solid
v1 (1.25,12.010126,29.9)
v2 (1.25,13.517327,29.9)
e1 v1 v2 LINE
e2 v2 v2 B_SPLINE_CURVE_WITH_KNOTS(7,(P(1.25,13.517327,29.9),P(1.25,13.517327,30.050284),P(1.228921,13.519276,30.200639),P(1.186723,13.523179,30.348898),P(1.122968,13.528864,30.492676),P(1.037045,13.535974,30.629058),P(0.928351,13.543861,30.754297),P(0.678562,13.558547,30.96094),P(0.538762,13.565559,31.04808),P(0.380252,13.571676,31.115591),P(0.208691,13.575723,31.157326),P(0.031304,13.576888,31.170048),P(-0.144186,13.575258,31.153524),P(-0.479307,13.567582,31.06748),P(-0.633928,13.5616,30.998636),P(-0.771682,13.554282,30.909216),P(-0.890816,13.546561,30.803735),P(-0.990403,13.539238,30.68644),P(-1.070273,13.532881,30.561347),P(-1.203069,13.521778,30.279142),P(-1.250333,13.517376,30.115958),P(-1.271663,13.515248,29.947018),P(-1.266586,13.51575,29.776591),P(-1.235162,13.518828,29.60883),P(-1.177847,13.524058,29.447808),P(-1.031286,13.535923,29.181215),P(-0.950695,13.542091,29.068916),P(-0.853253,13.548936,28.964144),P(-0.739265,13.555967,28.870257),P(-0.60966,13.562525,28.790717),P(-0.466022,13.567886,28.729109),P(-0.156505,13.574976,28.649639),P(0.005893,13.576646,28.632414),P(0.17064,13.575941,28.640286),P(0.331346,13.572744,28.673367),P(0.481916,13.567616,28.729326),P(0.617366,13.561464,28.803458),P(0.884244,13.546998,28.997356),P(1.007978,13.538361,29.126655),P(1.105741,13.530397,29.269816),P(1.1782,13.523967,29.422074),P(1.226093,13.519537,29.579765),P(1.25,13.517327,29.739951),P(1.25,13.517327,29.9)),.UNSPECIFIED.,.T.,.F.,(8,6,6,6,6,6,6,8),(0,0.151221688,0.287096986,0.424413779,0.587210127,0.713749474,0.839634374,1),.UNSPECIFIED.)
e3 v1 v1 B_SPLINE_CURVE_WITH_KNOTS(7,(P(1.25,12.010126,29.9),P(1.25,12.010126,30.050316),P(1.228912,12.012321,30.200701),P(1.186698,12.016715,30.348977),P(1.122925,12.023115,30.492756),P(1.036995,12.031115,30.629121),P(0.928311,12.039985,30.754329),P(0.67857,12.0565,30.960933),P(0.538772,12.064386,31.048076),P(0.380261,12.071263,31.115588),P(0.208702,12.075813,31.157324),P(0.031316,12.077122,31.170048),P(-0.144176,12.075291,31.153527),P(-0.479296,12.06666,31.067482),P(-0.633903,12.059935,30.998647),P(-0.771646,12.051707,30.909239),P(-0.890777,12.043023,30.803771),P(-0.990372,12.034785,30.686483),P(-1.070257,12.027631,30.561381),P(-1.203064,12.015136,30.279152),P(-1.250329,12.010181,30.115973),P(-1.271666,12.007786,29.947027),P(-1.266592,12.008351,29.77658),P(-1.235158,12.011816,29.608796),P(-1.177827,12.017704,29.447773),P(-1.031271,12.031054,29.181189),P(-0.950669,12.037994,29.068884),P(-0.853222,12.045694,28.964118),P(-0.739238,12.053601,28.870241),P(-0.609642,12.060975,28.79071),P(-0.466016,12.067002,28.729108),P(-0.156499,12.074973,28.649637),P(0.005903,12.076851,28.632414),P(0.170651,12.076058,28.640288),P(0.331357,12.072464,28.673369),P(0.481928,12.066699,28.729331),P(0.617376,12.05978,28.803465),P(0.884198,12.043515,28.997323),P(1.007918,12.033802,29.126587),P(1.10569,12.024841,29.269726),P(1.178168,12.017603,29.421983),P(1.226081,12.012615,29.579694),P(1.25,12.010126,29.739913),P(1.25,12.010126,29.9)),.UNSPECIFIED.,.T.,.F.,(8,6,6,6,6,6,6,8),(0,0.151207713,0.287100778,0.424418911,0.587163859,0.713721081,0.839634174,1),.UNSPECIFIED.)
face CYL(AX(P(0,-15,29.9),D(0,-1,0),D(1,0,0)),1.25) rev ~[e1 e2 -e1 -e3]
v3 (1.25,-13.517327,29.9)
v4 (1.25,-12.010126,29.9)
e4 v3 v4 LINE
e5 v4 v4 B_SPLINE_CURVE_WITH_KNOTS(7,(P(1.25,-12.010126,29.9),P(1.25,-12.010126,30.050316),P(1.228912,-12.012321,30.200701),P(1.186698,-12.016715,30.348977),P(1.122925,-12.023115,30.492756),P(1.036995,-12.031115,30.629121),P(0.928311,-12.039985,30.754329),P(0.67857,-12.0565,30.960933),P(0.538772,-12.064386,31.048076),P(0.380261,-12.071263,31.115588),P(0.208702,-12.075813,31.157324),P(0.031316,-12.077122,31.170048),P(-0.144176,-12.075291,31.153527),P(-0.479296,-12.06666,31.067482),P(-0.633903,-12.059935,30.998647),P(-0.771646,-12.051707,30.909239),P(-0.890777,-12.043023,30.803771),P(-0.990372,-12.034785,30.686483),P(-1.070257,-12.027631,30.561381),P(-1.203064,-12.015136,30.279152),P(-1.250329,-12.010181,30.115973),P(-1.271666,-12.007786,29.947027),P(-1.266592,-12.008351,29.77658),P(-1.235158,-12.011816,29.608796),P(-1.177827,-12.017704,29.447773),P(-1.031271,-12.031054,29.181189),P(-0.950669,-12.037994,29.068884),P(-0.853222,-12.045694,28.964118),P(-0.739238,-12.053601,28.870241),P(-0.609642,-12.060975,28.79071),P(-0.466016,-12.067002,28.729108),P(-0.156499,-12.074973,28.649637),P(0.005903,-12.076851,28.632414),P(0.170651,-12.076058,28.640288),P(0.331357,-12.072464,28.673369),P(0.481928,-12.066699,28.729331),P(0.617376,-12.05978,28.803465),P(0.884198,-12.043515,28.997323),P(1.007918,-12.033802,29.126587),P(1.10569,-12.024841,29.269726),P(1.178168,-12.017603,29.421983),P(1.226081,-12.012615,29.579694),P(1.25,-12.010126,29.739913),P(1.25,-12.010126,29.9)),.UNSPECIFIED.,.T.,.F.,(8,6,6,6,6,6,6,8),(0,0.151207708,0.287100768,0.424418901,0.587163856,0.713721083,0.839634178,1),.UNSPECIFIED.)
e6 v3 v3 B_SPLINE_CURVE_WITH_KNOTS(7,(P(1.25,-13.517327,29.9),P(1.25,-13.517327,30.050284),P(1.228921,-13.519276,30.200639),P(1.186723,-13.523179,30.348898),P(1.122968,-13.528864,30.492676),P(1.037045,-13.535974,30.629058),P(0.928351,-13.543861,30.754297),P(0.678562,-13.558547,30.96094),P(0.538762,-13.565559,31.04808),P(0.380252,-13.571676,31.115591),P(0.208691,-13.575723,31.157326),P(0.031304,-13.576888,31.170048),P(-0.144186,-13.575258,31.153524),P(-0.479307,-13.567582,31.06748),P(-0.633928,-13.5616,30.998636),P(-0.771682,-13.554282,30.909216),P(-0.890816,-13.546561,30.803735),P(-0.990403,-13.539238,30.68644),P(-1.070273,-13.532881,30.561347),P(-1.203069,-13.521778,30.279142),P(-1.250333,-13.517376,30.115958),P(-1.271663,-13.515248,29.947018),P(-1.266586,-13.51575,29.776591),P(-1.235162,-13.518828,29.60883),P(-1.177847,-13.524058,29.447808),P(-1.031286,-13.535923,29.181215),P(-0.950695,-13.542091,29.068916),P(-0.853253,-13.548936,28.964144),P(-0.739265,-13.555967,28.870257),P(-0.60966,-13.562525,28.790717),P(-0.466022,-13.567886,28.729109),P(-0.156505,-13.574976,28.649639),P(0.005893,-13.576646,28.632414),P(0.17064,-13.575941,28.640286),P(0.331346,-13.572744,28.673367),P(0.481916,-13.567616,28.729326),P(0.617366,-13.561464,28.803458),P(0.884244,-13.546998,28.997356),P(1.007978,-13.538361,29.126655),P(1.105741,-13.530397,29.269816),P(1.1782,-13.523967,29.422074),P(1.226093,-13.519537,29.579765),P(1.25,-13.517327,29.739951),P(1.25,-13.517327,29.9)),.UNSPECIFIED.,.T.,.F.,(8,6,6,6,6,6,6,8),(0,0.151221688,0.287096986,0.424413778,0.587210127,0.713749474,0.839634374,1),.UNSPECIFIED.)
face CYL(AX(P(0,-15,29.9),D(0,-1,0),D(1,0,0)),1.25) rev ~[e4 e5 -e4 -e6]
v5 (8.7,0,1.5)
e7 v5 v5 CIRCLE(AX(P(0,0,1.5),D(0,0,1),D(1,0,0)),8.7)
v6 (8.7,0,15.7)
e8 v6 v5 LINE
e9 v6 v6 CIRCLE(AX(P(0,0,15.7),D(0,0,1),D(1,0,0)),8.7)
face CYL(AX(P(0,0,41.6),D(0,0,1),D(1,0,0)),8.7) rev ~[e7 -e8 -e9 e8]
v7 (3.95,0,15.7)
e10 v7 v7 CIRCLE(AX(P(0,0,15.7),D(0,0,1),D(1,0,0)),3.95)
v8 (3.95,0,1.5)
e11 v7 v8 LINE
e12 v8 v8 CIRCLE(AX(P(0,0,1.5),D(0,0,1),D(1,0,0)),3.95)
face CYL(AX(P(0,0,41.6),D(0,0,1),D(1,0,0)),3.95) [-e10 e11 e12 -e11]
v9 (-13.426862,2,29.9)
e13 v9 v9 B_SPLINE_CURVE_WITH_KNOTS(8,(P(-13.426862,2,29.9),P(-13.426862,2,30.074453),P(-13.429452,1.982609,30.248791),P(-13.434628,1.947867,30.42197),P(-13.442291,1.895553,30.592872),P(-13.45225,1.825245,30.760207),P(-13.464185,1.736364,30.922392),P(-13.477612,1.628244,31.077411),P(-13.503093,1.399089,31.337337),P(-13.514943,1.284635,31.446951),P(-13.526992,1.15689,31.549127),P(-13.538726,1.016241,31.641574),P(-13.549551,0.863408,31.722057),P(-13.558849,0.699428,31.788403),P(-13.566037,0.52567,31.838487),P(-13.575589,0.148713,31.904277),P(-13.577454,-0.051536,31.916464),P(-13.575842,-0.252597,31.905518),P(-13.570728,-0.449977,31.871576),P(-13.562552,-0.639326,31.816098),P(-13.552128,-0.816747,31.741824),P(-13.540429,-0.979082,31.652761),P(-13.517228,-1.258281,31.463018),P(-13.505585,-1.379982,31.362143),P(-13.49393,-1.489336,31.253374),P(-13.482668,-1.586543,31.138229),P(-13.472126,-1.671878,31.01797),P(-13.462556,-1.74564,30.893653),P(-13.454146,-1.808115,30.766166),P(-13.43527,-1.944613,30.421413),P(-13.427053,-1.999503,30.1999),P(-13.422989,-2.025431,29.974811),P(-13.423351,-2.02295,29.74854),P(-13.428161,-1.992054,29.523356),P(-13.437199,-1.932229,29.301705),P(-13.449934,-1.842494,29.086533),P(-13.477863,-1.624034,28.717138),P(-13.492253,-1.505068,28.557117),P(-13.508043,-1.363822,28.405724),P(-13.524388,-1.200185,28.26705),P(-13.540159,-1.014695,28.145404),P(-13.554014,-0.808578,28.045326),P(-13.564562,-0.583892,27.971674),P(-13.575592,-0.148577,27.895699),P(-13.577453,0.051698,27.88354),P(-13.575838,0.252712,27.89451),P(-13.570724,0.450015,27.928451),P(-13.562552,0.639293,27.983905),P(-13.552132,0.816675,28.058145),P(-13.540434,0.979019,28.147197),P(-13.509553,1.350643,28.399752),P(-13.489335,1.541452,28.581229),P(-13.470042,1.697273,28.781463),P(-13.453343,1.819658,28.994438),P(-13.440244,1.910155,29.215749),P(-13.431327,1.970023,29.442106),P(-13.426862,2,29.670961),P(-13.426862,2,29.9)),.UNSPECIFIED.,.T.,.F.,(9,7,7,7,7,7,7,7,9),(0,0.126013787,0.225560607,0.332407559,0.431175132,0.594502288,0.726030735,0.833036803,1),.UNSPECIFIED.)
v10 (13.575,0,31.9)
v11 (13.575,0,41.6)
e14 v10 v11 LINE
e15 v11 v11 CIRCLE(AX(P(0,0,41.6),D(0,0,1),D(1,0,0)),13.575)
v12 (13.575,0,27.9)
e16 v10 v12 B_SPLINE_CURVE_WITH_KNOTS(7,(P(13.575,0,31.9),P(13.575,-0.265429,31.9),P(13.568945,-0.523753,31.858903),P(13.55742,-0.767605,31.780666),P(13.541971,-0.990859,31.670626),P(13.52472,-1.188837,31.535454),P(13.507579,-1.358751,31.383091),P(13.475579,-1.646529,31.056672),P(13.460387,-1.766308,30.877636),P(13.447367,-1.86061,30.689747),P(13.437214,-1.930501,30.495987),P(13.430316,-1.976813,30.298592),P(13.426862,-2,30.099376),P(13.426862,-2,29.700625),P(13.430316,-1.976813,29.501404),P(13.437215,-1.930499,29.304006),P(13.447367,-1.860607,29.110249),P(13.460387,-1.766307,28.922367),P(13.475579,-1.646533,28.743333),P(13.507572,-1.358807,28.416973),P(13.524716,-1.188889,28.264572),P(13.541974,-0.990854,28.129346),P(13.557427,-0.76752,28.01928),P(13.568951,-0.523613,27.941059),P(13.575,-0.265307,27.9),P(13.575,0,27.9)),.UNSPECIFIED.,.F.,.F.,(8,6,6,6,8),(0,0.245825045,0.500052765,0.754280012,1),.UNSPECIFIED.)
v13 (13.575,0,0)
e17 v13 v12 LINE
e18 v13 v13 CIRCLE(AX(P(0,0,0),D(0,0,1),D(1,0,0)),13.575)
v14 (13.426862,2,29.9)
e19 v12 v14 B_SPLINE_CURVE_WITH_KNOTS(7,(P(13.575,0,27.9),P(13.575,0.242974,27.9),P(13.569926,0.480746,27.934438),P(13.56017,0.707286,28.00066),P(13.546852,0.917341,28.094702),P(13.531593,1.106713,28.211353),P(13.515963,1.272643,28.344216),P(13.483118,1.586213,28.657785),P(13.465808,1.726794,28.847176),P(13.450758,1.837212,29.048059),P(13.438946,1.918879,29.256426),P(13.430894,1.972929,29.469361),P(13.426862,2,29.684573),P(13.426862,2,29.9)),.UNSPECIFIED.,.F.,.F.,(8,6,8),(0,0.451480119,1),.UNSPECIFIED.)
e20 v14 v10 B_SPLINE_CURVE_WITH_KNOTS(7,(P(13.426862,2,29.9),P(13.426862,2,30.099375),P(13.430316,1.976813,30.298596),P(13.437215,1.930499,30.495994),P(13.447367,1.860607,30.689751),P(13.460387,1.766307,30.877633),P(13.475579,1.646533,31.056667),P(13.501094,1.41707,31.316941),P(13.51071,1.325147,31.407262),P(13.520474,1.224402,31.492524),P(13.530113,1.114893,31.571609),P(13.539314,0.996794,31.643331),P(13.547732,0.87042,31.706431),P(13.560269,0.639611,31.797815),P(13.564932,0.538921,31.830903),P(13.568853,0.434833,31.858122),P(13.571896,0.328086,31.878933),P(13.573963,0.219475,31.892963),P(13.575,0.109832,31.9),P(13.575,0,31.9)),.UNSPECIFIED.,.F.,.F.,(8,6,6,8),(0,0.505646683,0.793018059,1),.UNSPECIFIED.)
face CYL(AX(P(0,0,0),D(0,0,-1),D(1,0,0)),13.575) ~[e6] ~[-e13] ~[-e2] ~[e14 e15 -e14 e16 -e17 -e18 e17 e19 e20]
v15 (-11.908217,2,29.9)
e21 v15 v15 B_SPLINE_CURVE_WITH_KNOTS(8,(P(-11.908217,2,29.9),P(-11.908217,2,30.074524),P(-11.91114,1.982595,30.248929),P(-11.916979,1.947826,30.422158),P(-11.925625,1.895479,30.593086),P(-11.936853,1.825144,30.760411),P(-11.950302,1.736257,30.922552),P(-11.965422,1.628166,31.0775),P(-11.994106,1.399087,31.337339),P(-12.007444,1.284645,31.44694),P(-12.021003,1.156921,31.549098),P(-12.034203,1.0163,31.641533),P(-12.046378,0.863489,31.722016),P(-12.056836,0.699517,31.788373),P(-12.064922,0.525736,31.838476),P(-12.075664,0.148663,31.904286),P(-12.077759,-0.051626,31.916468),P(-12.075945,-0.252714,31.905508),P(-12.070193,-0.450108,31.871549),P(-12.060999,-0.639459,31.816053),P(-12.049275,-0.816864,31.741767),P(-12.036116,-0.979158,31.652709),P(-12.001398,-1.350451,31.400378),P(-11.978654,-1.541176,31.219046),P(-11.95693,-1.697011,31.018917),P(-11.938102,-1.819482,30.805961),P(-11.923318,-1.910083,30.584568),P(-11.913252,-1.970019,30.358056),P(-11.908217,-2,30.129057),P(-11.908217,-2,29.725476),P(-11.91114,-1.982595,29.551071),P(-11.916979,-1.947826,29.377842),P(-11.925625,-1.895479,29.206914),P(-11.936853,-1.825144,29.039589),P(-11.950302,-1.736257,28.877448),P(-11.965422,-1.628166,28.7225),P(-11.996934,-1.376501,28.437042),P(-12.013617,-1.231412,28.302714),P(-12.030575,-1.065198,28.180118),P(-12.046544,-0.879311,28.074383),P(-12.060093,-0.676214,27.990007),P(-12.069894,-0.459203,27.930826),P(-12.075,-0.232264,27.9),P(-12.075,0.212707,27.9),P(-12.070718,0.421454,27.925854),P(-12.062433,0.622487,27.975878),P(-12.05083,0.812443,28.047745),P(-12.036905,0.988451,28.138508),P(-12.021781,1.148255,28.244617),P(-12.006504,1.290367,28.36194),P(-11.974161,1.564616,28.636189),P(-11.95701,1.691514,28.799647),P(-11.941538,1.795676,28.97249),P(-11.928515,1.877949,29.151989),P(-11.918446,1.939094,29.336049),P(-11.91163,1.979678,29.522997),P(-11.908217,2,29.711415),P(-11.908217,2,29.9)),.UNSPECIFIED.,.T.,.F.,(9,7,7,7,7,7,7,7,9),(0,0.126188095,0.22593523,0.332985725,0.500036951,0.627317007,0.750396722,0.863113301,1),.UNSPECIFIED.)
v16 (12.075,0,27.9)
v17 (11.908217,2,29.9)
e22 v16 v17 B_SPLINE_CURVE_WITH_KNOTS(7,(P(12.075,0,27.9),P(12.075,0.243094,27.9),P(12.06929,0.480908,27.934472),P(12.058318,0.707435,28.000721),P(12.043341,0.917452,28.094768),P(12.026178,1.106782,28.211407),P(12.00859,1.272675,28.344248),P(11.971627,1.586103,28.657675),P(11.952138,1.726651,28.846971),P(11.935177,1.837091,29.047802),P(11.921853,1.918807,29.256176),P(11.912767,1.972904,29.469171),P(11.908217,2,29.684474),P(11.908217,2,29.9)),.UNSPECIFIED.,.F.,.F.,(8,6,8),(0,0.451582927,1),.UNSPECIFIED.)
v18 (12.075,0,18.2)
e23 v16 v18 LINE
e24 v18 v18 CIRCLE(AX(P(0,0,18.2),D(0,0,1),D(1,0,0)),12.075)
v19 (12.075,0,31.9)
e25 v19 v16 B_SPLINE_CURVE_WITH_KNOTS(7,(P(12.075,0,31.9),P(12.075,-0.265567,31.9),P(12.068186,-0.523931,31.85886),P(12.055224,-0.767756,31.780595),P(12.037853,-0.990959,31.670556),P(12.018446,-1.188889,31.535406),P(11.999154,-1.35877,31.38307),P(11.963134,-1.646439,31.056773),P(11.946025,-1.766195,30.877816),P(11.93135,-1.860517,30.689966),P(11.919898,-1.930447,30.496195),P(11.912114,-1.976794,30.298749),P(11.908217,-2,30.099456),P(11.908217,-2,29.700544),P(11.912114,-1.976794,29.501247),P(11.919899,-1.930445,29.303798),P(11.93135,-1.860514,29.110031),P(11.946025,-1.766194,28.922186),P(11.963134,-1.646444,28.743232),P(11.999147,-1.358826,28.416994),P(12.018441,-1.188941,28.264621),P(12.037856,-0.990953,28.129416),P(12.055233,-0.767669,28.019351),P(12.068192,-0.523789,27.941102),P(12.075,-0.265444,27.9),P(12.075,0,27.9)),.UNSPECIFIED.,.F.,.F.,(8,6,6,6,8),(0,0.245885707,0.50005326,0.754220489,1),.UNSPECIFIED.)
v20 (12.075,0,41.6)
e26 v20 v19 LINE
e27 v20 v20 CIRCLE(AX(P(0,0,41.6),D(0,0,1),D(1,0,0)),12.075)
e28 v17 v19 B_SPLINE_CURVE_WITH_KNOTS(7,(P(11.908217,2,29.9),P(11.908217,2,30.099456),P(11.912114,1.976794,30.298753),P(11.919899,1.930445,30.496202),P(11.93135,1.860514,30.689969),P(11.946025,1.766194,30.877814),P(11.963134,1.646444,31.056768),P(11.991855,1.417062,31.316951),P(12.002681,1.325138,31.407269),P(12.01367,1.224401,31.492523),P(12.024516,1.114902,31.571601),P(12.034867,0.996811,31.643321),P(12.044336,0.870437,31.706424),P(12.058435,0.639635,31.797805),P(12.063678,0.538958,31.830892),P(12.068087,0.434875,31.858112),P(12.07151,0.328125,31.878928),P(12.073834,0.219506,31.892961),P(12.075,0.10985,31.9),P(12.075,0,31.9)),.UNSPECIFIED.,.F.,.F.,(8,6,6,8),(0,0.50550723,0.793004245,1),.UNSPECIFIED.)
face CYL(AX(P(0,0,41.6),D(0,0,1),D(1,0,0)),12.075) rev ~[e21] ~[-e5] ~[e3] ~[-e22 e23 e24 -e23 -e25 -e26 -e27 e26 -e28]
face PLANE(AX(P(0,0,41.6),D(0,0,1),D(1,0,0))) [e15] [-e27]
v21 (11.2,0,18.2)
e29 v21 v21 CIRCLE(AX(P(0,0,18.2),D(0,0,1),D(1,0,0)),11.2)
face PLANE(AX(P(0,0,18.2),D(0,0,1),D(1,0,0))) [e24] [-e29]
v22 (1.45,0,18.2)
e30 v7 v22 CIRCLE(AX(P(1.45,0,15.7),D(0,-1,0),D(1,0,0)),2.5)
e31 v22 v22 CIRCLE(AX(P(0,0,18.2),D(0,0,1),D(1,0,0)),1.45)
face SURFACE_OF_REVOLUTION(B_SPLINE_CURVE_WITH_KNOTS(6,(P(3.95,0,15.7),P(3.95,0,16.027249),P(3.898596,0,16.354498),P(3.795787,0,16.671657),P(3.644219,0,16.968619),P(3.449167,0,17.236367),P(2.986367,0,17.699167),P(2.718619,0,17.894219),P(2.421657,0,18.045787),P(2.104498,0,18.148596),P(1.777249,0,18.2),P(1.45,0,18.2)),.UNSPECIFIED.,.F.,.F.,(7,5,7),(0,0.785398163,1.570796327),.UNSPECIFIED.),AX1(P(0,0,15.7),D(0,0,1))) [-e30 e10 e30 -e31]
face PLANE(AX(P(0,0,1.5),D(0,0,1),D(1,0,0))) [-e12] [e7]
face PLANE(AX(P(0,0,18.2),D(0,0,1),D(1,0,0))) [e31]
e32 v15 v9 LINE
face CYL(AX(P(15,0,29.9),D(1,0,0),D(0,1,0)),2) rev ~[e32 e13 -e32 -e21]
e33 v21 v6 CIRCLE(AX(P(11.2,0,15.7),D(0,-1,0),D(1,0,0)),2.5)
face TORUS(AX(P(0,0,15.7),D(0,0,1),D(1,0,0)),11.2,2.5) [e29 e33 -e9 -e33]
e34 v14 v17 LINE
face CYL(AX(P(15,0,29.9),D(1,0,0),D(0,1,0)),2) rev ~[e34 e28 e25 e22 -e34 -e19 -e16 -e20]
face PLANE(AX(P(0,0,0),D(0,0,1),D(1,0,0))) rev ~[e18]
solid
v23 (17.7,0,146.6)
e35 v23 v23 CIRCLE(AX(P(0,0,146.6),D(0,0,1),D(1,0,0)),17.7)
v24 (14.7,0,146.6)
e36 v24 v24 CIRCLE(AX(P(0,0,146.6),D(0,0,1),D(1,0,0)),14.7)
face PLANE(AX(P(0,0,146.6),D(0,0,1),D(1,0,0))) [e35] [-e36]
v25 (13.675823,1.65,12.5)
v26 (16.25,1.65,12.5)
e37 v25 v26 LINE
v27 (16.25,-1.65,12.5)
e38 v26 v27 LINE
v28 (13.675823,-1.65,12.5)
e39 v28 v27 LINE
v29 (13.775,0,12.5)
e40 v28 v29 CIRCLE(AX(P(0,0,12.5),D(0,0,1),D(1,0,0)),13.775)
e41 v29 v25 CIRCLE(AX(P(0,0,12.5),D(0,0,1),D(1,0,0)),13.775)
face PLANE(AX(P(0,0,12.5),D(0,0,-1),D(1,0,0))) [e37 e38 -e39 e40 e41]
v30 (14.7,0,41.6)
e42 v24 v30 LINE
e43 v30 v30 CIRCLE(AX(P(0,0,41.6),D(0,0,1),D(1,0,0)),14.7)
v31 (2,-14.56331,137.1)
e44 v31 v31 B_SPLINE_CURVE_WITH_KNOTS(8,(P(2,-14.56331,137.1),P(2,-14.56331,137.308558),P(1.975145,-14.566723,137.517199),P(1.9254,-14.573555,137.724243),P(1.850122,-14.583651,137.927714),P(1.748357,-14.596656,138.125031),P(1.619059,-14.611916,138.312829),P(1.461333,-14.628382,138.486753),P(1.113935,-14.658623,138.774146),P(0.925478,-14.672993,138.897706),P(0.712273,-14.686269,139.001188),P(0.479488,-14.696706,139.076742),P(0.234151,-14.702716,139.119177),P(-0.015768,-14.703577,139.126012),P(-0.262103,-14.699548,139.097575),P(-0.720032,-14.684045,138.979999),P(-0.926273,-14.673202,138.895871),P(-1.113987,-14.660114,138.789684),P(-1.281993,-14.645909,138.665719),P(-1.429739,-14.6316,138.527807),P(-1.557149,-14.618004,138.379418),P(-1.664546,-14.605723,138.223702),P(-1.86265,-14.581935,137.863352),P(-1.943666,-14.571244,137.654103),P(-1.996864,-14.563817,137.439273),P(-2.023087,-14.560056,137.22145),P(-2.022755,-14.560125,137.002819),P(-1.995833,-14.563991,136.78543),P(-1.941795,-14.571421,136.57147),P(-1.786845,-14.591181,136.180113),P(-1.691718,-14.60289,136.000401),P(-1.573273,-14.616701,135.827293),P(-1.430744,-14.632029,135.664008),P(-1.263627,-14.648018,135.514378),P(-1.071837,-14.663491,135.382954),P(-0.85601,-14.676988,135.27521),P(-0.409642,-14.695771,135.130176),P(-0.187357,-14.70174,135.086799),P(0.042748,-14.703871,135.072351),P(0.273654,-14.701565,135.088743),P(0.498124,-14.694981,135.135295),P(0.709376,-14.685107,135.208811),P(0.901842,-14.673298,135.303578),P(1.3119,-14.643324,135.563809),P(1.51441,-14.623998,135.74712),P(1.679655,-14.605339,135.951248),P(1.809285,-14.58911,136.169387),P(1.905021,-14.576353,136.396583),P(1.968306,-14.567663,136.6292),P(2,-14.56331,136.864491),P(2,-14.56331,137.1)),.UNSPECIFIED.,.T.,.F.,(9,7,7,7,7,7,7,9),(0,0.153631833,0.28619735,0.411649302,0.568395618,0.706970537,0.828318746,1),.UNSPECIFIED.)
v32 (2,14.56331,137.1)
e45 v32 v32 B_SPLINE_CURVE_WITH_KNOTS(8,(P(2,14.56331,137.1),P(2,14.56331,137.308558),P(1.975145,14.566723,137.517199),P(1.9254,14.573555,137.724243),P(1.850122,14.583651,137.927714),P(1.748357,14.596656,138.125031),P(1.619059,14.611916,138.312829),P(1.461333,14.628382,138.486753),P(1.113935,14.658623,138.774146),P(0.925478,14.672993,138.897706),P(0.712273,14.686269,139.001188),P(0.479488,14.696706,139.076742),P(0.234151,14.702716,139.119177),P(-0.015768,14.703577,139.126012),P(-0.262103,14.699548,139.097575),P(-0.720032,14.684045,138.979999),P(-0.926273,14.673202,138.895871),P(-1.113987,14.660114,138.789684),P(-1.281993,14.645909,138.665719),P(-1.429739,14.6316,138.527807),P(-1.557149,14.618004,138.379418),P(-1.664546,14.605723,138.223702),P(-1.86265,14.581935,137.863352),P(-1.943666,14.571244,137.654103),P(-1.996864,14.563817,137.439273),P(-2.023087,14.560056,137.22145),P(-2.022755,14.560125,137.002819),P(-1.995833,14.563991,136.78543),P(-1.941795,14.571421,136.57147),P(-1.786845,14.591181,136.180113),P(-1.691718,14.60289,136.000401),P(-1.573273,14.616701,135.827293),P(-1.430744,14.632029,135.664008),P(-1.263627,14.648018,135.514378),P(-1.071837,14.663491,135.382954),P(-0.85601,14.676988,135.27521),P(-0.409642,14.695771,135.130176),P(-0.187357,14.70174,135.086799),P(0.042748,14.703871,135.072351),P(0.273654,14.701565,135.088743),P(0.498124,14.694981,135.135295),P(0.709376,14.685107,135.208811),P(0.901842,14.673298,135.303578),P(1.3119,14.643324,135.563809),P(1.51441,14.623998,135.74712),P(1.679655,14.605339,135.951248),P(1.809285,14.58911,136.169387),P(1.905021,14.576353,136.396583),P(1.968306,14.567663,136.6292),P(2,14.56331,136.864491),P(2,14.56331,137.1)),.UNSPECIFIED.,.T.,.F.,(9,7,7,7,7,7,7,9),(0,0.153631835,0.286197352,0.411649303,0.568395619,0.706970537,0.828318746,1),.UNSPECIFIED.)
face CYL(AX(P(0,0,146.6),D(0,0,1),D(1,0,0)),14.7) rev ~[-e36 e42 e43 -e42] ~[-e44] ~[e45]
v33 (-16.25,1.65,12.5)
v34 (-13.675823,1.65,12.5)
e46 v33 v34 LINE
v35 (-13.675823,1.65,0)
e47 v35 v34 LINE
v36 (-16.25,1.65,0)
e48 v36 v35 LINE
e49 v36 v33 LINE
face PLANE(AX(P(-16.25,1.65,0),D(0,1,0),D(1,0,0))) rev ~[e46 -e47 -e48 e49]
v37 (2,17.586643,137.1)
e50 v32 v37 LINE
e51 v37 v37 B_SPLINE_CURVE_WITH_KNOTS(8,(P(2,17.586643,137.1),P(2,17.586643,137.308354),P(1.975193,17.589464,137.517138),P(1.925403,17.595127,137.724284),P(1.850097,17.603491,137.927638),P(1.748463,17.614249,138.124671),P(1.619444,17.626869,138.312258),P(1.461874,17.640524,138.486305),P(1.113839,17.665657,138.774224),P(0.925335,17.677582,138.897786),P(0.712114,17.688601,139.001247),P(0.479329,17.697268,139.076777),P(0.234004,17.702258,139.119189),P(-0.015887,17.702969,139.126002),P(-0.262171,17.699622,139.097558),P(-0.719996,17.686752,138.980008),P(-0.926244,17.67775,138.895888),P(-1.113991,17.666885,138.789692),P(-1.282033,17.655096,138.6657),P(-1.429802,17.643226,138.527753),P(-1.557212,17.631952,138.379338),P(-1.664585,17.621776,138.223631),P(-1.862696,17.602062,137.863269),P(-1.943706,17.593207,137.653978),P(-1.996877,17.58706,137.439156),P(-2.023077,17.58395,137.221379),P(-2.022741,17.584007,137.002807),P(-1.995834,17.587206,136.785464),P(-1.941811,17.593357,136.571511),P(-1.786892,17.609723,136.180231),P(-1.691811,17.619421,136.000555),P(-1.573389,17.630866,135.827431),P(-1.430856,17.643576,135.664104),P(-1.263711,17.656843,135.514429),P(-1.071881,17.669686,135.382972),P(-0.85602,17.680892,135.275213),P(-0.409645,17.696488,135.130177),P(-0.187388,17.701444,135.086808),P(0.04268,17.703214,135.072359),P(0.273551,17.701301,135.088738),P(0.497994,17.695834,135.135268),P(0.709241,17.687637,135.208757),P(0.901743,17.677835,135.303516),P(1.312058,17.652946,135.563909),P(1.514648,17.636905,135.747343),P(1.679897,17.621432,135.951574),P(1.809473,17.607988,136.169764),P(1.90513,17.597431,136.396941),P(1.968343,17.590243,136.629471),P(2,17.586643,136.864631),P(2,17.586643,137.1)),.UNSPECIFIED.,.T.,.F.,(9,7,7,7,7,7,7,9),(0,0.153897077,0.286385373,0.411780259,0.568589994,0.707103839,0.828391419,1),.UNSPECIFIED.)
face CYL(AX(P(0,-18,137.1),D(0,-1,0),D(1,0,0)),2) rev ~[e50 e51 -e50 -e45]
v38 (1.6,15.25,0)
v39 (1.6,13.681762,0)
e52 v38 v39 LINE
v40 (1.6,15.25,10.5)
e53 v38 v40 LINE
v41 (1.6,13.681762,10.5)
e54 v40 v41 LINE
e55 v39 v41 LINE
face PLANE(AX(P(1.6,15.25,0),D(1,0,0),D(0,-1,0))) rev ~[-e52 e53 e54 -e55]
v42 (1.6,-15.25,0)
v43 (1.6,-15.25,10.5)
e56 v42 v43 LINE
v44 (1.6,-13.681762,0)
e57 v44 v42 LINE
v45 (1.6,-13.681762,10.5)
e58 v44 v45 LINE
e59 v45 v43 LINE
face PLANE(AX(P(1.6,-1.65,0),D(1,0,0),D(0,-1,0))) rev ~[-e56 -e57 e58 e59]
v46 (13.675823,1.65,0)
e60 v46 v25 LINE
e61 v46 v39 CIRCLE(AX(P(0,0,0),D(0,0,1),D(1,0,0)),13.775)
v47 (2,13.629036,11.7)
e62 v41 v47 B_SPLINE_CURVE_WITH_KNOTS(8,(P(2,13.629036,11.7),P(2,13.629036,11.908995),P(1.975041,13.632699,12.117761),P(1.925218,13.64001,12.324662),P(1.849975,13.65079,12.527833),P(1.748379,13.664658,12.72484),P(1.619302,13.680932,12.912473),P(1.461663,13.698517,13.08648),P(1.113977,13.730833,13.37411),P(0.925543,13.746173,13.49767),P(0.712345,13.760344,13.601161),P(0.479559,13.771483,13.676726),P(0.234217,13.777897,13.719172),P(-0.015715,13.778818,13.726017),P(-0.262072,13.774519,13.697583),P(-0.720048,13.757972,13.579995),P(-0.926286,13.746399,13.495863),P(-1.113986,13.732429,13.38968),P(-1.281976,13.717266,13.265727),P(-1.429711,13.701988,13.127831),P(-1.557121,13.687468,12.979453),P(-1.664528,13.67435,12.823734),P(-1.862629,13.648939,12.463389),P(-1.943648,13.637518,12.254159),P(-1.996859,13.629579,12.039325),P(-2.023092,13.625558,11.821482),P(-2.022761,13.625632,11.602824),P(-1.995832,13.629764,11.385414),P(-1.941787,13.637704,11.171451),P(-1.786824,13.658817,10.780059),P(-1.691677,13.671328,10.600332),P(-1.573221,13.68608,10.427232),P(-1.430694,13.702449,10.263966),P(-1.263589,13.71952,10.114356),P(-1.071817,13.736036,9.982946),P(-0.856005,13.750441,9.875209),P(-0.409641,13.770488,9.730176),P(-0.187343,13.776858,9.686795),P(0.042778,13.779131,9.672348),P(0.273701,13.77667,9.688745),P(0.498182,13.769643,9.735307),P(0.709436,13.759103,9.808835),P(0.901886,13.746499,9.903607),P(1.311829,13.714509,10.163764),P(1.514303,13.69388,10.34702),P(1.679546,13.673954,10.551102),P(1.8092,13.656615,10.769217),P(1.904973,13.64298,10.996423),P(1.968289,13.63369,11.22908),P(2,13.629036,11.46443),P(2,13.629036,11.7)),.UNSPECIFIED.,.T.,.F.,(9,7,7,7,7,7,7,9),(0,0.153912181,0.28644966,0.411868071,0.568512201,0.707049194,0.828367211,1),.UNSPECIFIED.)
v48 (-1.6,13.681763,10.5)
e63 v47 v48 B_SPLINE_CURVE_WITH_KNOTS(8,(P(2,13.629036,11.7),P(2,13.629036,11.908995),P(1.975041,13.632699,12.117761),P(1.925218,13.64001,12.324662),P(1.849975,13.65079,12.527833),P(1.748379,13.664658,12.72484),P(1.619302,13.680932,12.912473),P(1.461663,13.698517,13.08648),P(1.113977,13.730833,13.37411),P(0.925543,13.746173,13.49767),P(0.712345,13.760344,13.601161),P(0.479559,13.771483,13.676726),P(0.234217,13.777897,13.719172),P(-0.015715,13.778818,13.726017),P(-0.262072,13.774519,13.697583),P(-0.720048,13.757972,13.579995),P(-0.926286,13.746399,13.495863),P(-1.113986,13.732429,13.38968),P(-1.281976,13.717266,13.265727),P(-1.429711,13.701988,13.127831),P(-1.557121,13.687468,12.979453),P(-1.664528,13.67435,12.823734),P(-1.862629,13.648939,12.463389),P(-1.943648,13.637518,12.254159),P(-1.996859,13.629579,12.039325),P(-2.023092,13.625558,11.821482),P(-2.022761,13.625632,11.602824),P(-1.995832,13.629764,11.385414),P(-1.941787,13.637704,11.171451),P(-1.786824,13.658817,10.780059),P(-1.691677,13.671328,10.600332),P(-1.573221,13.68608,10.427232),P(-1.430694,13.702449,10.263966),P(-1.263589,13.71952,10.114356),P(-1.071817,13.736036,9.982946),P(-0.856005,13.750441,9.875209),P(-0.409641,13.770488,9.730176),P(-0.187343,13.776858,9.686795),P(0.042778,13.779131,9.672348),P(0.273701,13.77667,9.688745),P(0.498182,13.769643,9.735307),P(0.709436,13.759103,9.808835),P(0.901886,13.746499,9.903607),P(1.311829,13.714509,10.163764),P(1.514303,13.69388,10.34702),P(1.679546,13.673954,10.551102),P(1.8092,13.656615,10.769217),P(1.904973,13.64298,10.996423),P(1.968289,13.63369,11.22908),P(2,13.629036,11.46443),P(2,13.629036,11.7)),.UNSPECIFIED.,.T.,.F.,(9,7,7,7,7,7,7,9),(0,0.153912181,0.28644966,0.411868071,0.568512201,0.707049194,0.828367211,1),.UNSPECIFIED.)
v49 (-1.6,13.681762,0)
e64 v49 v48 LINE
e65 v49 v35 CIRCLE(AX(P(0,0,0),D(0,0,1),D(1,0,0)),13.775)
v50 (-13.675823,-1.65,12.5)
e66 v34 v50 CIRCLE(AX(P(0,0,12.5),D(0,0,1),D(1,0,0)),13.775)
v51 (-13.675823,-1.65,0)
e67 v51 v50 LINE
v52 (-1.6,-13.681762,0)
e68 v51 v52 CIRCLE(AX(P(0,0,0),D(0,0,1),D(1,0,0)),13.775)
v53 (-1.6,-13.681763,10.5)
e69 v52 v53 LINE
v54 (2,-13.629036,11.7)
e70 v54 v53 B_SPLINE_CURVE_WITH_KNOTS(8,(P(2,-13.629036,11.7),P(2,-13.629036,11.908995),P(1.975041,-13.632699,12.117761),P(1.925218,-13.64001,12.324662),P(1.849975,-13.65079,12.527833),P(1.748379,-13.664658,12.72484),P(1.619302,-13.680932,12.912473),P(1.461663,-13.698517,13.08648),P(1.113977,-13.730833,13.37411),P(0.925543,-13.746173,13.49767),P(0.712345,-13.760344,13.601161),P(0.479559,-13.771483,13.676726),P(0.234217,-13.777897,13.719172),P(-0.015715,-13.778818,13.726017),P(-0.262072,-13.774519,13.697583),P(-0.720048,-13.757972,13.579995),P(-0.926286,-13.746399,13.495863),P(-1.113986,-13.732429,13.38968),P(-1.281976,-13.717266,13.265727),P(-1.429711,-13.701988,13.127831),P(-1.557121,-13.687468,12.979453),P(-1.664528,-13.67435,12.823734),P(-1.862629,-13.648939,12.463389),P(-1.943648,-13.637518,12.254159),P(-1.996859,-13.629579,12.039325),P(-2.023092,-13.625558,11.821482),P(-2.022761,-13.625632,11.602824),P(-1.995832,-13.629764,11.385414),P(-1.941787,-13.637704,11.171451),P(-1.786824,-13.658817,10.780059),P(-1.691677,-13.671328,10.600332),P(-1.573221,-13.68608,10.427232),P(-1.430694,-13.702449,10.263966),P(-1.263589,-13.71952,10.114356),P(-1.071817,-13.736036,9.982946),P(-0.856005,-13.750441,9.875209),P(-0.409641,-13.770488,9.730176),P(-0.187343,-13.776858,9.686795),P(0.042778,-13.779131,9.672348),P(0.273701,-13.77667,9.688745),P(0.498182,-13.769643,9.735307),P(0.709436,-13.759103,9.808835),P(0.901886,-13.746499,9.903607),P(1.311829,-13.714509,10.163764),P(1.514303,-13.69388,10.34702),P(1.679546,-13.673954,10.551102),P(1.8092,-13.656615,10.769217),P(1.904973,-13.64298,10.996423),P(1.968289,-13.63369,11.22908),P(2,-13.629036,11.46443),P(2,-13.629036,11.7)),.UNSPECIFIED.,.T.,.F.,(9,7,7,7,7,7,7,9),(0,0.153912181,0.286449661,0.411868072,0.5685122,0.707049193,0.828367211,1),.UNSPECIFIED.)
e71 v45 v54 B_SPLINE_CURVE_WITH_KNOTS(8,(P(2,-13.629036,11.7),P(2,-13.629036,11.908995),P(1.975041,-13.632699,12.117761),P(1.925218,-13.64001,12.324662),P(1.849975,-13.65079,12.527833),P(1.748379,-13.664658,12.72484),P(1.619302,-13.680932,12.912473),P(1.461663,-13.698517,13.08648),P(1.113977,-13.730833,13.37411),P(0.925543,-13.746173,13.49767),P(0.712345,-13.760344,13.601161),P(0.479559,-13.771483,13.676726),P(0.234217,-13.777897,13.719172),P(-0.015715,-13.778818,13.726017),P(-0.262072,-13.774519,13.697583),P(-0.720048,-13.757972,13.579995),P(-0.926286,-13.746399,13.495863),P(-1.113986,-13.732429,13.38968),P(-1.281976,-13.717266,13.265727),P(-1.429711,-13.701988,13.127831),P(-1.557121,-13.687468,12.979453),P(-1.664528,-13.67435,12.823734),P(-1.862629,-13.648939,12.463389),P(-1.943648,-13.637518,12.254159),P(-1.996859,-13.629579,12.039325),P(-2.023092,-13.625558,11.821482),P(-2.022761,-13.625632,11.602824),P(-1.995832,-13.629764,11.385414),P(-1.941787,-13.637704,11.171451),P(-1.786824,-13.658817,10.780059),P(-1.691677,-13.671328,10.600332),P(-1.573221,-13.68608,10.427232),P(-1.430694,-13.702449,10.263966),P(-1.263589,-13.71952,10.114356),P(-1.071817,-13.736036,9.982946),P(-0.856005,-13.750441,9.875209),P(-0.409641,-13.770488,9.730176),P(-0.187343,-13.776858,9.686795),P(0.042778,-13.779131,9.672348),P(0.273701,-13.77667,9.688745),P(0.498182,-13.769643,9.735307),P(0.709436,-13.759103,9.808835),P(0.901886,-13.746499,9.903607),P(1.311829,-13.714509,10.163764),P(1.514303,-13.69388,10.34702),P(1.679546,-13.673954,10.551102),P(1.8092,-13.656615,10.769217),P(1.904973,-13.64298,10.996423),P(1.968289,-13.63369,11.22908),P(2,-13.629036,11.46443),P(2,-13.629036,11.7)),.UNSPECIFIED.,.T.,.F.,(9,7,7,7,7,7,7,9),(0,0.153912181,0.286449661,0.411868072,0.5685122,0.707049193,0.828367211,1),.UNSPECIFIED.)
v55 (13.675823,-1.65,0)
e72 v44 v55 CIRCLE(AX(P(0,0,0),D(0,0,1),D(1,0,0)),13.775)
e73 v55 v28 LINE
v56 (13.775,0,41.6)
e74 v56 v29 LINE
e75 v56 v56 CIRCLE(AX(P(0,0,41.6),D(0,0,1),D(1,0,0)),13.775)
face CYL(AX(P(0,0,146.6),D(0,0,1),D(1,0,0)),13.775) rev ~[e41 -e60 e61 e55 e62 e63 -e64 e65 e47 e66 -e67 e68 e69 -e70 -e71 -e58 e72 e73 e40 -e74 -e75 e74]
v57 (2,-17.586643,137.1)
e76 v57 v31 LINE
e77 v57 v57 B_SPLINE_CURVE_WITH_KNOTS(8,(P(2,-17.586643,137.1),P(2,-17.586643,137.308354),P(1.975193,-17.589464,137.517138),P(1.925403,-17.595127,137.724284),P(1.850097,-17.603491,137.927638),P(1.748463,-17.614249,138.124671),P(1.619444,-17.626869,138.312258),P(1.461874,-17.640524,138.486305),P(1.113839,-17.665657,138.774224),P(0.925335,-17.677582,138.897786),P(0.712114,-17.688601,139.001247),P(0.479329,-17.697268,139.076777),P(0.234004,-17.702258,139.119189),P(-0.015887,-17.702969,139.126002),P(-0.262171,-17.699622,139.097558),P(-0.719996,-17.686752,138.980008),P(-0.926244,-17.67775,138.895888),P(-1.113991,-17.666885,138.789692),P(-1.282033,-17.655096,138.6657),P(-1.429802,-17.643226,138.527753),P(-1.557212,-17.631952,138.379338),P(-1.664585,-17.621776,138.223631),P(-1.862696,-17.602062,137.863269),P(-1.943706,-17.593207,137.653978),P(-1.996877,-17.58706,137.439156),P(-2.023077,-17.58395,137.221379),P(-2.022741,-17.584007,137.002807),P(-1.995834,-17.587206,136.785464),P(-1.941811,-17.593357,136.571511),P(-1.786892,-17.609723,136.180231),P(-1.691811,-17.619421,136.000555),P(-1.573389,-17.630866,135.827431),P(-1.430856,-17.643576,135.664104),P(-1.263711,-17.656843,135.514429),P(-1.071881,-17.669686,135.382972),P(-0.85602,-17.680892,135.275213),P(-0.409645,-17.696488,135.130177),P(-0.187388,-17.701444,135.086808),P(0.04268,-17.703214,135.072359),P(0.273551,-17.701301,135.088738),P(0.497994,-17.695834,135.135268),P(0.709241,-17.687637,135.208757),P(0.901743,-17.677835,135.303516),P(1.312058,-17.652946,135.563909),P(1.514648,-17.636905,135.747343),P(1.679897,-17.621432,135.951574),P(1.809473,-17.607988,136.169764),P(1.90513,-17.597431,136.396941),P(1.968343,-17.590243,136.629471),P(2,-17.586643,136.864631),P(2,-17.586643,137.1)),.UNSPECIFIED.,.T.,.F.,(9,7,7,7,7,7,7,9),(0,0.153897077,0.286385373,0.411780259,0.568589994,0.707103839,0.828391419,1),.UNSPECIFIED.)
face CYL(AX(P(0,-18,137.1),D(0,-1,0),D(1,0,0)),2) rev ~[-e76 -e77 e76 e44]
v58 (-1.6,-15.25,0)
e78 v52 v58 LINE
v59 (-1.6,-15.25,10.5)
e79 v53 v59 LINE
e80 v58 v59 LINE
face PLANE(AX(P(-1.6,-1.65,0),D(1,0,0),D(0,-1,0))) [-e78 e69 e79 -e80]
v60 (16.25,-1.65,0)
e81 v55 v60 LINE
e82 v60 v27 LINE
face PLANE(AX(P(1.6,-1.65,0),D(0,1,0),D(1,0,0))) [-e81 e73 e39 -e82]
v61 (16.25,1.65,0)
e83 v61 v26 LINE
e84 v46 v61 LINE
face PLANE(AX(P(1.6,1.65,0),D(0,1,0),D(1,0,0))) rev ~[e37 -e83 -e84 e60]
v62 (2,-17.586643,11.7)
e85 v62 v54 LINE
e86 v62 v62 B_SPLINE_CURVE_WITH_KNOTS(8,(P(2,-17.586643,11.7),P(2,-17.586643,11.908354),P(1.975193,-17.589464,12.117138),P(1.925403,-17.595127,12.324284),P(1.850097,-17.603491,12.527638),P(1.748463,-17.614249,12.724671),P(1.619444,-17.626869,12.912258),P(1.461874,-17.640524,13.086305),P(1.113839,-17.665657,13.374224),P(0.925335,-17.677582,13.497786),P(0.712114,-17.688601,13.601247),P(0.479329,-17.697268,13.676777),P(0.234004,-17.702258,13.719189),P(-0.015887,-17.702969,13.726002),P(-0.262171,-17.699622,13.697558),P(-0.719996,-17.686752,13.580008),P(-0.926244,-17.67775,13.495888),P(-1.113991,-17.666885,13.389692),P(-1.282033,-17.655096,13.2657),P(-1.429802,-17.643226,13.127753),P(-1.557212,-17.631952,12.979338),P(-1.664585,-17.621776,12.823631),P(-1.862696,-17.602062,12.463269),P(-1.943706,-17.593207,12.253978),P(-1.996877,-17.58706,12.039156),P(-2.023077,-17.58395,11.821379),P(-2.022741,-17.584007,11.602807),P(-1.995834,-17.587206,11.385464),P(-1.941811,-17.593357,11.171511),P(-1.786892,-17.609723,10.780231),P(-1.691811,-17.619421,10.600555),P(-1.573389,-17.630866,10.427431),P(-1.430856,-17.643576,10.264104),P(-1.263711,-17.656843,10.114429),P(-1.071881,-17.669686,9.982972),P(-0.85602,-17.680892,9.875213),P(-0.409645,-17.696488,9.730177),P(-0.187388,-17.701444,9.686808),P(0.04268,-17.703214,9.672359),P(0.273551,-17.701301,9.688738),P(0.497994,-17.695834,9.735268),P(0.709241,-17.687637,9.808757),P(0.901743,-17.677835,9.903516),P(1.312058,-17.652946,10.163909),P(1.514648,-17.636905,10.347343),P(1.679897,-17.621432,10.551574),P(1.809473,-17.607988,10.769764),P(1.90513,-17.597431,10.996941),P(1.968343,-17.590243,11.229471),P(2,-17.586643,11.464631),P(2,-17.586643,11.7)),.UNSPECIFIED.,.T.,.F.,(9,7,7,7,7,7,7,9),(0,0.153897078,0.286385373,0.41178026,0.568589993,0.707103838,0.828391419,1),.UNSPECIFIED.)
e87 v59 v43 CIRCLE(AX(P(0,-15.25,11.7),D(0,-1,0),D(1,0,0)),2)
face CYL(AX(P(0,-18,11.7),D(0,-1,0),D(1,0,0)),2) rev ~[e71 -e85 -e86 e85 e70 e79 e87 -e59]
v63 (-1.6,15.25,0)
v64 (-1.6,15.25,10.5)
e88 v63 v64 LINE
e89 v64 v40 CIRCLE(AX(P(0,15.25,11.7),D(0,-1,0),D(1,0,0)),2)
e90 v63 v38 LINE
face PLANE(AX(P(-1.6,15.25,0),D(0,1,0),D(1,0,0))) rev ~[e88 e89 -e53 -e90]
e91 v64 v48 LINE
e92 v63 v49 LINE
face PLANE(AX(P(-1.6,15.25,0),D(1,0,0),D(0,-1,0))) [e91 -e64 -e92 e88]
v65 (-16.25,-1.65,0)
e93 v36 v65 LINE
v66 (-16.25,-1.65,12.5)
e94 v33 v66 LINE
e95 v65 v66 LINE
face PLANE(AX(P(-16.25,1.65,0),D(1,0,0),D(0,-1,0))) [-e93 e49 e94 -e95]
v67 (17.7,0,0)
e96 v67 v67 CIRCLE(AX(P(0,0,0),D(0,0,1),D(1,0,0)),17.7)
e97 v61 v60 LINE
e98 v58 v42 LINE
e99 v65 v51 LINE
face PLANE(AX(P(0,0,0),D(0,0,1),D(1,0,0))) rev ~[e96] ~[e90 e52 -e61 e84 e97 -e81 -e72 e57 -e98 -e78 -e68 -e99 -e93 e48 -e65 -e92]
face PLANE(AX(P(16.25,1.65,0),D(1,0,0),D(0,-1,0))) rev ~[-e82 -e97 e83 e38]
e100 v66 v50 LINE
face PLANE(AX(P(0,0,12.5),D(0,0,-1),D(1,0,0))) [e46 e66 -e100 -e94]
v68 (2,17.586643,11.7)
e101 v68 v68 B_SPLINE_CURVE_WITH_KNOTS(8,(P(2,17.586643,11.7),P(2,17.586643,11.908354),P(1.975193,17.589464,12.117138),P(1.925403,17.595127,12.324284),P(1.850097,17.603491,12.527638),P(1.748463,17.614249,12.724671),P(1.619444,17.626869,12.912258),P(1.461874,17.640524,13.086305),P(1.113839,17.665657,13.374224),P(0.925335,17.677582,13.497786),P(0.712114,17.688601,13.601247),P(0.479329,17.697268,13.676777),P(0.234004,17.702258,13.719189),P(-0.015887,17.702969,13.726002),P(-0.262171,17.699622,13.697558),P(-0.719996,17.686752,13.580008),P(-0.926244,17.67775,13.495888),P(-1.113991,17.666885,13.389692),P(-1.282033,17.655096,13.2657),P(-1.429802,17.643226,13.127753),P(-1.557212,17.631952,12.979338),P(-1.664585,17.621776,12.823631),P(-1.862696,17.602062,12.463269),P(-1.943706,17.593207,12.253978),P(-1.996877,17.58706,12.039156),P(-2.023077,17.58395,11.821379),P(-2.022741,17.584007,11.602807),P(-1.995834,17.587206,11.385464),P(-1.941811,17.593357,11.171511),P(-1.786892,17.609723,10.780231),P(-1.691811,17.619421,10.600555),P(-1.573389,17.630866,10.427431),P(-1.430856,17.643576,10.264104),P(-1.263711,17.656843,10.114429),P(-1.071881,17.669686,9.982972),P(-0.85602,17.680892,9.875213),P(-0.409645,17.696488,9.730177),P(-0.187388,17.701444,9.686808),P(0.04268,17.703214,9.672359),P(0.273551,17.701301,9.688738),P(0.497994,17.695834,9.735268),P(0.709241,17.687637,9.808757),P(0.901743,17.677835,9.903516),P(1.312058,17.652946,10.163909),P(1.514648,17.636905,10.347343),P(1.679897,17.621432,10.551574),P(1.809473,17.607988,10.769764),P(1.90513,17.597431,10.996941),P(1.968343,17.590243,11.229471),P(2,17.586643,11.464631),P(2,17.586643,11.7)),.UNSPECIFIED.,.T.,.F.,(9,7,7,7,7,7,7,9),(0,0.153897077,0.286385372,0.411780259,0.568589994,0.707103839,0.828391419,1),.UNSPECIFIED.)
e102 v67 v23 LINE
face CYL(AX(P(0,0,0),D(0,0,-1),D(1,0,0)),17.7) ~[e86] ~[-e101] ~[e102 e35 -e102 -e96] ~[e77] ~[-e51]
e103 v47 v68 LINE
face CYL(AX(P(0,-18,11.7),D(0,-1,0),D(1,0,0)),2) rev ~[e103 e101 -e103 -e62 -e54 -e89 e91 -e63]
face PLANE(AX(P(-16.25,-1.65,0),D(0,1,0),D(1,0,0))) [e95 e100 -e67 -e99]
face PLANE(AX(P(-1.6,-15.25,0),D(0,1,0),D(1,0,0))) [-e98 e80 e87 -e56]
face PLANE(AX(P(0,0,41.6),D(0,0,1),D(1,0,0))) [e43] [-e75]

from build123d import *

# Parameters (mm, degrees)
SKETCH_R        = 13.575
PAD_DEPTH       = 41.6
SKETCH001_R     = 8.7
SKETCH001_R_2   = 3.95
POCKET_DEPTH    = 40.1
SKETCH002_R     = 12.075
POCKET001_DEPTH = 23.4
FILLET_R        = 2.5
SKETCH003_W     = 30
SKETCH003_H     = 30
PAD001_DEPTH    = 2
SKETCH004_R     = 1.25
POCKET002_DEPTH = 30.001
SKETCH006_R     = 2
POCKET004_DEPTH = 30.001
SKETCH007_W     = 30
SKETCH007_H     = 30
POCKET005_DEPTH = 2
SKETCH008_R     = 17.7
PAD002_DEPTH    = 146.6
SKETCH009_R     = 13.775
POCKET006_DEPTH = 146.601
SKETCH010_R     = 14.7
POCKET007_DEPTH = 105
SKETCH011_W     = 36
SKETCH011_H     = 36
PAD003_DEPTH    = 2
SKETCH012_R     = 2
POCKET008_DEPTH = 36.001
SKETCH013_W     = 36
SKETCH013_H     = 36
POCKET009_DEPTH = 2
SKETCH014_W     = 3.2
SKETCH014_H     = 30.5
SKETCH014_W_2   = 32.5
SKETCH014_H_2   = 3.3
POCKET010_DEPTH = 12.5


with BuildPart() as rdwhipitgoodwhipbody:
    # Sketch → Pad (new body)
    with BuildSketch(Plane.XY):
        Circle(SKETCH_R)
    extrude(amount=PAD_DEPTH)

    # Sketch001 (on Face3 of Pad) → Pocket (cut)
    with BuildSketch(Plane.XY.offset(41.6)):
        Circle(SKETCH001_R)
        Circle(SKETCH001_R_2, mode=Mode.SUBTRACT)
    extrude(amount=-POCKET_DEPTH, mode=Mode.SUBTRACT)

    # Sketch002 (on Face3 of Pocket) → Pocket001 (cut)
    with BuildSketch(Plane.XY.offset(41.6)):
        Circle(SKETCH002_R)
    extrude(amount=-POCKET001_DEPTH, mode=Mode.SUBTRACT)

    # Fillet
    fillet_edges = [rdwhipitgoodwhipbody.edges().sort_by_distance(p)[0] for p in [
        (-8.7, 0, 18.2),
        (-3.95, 0, 18.2),
    ]]
    fillet(fillet_edges, radius=FILLET_R)

    # Sketch003 (on Face5 of Fillet) → Pad001 (join)
    with BuildSketch(Plane.XY.offset(41.6)):
        Rectangle(SKETCH003_W, SKETCH003_H)
    extrude(amount=PAD001_DEPTH)

    # Sketch004 (on Face6 of Pad001) → Pocket002 (cut, through all)
    with BuildSketch(Plane.XZ.offset(15)):
        with Locations((0, 29.9)):
            Circle(SKETCH004_R)
    extrude(amount=-POCKET002_DEPTH, mode=Mode.SUBTRACT)

    # Sketch006 → Pocket004 (cut, through all)
    with BuildSketch(Plane.YZ.offset(15)):
        with Locations((0, 29.9)):
            Circle(SKETCH006_R)
    extrude(amount=-POCKET004_DEPTH, mode=Mode.SUBTRACT)

    # Sketch007 (on Face5 of Pocket004) → Pocket005 (cut)
    with BuildSketch(Plane.XY.offset(43.6)):
        Rectangle(SKETCH007_W, SKETCH007_H)
    extrude(amount=-POCKET005_DEPTH, mode=Mode.SUBTRACT)


with BuildPart() as rdwhipitgoodflashlightbody:
    # Sketch008 → Pad002 (new body)
    with BuildSketch(Plane.XY):
        Circle(SKETCH008_R)
    extrude(amount=PAD002_DEPTH)

    # Sketch009 (on Face3 of Pad002) → Pocket006 (cut, through all)
    with BuildSketch(Plane.XY.offset(146.6)):
        Circle(SKETCH009_R)
    extrude(amount=-POCKET006_DEPTH, mode=Mode.SUBTRACT)

    # Sketch010 (on Face3 of Pocket006) → Pocket007 (cut)
    with BuildSketch(Plane.XY.offset(146.6)):
        Circle(SKETCH010_R)
    extrude(amount=-POCKET007_DEPTH, mode=Mode.SUBTRACT)

    # Sketch011 (on Face3 of Pocket007) → Pad003 (join)
    with BuildSketch(Plane.XY.offset(146.6)):
        Rectangle(SKETCH011_W, SKETCH011_H)
    extrude(amount=PAD003_DEPTH)

    # Sketch012 (on Face6 of Pad003) → Pocket008 (cut, through all)
    with BuildSketch(Plane.XZ.offset(18)):
        with Locations((0, 11.7)):
            Circle(SKETCH012_R)
        with Locations((0, 137.1)):
            Circle(SKETCH012_R)
    extrude(amount=-POCKET008_DEPTH, mode=Mode.SUBTRACT)

    # Sketch013 (on Face5 of Pocket008) → Pocket009 (cut)
    with BuildSketch(Plane.XY.offset(148.6)):
        Rectangle(SKETCH013_W, SKETCH013_H)
    extrude(amount=-POCKET009_DEPTH, mode=Mode.SUBTRACT)

    # Sketch014 (on Face2 of Pocket009) → Pocket010 (cut)
    with BuildSketch(Plane(origin=(0, 0, 0), x_dir=(1, 0, 0), z_dir=(0, 0, -1))):
        Rectangle(SKETCH014_W, SKETCH014_H)
        Rectangle(SKETCH014_W_2, SKETCH014_H_2)
    extrude(amount=-POCKET010_DEPTH, mode=Mode.SUBTRACT)


solid = Compound([rdwhipitgoodwhipbody.part, rdwhipitgoodflashlightbody.part])
